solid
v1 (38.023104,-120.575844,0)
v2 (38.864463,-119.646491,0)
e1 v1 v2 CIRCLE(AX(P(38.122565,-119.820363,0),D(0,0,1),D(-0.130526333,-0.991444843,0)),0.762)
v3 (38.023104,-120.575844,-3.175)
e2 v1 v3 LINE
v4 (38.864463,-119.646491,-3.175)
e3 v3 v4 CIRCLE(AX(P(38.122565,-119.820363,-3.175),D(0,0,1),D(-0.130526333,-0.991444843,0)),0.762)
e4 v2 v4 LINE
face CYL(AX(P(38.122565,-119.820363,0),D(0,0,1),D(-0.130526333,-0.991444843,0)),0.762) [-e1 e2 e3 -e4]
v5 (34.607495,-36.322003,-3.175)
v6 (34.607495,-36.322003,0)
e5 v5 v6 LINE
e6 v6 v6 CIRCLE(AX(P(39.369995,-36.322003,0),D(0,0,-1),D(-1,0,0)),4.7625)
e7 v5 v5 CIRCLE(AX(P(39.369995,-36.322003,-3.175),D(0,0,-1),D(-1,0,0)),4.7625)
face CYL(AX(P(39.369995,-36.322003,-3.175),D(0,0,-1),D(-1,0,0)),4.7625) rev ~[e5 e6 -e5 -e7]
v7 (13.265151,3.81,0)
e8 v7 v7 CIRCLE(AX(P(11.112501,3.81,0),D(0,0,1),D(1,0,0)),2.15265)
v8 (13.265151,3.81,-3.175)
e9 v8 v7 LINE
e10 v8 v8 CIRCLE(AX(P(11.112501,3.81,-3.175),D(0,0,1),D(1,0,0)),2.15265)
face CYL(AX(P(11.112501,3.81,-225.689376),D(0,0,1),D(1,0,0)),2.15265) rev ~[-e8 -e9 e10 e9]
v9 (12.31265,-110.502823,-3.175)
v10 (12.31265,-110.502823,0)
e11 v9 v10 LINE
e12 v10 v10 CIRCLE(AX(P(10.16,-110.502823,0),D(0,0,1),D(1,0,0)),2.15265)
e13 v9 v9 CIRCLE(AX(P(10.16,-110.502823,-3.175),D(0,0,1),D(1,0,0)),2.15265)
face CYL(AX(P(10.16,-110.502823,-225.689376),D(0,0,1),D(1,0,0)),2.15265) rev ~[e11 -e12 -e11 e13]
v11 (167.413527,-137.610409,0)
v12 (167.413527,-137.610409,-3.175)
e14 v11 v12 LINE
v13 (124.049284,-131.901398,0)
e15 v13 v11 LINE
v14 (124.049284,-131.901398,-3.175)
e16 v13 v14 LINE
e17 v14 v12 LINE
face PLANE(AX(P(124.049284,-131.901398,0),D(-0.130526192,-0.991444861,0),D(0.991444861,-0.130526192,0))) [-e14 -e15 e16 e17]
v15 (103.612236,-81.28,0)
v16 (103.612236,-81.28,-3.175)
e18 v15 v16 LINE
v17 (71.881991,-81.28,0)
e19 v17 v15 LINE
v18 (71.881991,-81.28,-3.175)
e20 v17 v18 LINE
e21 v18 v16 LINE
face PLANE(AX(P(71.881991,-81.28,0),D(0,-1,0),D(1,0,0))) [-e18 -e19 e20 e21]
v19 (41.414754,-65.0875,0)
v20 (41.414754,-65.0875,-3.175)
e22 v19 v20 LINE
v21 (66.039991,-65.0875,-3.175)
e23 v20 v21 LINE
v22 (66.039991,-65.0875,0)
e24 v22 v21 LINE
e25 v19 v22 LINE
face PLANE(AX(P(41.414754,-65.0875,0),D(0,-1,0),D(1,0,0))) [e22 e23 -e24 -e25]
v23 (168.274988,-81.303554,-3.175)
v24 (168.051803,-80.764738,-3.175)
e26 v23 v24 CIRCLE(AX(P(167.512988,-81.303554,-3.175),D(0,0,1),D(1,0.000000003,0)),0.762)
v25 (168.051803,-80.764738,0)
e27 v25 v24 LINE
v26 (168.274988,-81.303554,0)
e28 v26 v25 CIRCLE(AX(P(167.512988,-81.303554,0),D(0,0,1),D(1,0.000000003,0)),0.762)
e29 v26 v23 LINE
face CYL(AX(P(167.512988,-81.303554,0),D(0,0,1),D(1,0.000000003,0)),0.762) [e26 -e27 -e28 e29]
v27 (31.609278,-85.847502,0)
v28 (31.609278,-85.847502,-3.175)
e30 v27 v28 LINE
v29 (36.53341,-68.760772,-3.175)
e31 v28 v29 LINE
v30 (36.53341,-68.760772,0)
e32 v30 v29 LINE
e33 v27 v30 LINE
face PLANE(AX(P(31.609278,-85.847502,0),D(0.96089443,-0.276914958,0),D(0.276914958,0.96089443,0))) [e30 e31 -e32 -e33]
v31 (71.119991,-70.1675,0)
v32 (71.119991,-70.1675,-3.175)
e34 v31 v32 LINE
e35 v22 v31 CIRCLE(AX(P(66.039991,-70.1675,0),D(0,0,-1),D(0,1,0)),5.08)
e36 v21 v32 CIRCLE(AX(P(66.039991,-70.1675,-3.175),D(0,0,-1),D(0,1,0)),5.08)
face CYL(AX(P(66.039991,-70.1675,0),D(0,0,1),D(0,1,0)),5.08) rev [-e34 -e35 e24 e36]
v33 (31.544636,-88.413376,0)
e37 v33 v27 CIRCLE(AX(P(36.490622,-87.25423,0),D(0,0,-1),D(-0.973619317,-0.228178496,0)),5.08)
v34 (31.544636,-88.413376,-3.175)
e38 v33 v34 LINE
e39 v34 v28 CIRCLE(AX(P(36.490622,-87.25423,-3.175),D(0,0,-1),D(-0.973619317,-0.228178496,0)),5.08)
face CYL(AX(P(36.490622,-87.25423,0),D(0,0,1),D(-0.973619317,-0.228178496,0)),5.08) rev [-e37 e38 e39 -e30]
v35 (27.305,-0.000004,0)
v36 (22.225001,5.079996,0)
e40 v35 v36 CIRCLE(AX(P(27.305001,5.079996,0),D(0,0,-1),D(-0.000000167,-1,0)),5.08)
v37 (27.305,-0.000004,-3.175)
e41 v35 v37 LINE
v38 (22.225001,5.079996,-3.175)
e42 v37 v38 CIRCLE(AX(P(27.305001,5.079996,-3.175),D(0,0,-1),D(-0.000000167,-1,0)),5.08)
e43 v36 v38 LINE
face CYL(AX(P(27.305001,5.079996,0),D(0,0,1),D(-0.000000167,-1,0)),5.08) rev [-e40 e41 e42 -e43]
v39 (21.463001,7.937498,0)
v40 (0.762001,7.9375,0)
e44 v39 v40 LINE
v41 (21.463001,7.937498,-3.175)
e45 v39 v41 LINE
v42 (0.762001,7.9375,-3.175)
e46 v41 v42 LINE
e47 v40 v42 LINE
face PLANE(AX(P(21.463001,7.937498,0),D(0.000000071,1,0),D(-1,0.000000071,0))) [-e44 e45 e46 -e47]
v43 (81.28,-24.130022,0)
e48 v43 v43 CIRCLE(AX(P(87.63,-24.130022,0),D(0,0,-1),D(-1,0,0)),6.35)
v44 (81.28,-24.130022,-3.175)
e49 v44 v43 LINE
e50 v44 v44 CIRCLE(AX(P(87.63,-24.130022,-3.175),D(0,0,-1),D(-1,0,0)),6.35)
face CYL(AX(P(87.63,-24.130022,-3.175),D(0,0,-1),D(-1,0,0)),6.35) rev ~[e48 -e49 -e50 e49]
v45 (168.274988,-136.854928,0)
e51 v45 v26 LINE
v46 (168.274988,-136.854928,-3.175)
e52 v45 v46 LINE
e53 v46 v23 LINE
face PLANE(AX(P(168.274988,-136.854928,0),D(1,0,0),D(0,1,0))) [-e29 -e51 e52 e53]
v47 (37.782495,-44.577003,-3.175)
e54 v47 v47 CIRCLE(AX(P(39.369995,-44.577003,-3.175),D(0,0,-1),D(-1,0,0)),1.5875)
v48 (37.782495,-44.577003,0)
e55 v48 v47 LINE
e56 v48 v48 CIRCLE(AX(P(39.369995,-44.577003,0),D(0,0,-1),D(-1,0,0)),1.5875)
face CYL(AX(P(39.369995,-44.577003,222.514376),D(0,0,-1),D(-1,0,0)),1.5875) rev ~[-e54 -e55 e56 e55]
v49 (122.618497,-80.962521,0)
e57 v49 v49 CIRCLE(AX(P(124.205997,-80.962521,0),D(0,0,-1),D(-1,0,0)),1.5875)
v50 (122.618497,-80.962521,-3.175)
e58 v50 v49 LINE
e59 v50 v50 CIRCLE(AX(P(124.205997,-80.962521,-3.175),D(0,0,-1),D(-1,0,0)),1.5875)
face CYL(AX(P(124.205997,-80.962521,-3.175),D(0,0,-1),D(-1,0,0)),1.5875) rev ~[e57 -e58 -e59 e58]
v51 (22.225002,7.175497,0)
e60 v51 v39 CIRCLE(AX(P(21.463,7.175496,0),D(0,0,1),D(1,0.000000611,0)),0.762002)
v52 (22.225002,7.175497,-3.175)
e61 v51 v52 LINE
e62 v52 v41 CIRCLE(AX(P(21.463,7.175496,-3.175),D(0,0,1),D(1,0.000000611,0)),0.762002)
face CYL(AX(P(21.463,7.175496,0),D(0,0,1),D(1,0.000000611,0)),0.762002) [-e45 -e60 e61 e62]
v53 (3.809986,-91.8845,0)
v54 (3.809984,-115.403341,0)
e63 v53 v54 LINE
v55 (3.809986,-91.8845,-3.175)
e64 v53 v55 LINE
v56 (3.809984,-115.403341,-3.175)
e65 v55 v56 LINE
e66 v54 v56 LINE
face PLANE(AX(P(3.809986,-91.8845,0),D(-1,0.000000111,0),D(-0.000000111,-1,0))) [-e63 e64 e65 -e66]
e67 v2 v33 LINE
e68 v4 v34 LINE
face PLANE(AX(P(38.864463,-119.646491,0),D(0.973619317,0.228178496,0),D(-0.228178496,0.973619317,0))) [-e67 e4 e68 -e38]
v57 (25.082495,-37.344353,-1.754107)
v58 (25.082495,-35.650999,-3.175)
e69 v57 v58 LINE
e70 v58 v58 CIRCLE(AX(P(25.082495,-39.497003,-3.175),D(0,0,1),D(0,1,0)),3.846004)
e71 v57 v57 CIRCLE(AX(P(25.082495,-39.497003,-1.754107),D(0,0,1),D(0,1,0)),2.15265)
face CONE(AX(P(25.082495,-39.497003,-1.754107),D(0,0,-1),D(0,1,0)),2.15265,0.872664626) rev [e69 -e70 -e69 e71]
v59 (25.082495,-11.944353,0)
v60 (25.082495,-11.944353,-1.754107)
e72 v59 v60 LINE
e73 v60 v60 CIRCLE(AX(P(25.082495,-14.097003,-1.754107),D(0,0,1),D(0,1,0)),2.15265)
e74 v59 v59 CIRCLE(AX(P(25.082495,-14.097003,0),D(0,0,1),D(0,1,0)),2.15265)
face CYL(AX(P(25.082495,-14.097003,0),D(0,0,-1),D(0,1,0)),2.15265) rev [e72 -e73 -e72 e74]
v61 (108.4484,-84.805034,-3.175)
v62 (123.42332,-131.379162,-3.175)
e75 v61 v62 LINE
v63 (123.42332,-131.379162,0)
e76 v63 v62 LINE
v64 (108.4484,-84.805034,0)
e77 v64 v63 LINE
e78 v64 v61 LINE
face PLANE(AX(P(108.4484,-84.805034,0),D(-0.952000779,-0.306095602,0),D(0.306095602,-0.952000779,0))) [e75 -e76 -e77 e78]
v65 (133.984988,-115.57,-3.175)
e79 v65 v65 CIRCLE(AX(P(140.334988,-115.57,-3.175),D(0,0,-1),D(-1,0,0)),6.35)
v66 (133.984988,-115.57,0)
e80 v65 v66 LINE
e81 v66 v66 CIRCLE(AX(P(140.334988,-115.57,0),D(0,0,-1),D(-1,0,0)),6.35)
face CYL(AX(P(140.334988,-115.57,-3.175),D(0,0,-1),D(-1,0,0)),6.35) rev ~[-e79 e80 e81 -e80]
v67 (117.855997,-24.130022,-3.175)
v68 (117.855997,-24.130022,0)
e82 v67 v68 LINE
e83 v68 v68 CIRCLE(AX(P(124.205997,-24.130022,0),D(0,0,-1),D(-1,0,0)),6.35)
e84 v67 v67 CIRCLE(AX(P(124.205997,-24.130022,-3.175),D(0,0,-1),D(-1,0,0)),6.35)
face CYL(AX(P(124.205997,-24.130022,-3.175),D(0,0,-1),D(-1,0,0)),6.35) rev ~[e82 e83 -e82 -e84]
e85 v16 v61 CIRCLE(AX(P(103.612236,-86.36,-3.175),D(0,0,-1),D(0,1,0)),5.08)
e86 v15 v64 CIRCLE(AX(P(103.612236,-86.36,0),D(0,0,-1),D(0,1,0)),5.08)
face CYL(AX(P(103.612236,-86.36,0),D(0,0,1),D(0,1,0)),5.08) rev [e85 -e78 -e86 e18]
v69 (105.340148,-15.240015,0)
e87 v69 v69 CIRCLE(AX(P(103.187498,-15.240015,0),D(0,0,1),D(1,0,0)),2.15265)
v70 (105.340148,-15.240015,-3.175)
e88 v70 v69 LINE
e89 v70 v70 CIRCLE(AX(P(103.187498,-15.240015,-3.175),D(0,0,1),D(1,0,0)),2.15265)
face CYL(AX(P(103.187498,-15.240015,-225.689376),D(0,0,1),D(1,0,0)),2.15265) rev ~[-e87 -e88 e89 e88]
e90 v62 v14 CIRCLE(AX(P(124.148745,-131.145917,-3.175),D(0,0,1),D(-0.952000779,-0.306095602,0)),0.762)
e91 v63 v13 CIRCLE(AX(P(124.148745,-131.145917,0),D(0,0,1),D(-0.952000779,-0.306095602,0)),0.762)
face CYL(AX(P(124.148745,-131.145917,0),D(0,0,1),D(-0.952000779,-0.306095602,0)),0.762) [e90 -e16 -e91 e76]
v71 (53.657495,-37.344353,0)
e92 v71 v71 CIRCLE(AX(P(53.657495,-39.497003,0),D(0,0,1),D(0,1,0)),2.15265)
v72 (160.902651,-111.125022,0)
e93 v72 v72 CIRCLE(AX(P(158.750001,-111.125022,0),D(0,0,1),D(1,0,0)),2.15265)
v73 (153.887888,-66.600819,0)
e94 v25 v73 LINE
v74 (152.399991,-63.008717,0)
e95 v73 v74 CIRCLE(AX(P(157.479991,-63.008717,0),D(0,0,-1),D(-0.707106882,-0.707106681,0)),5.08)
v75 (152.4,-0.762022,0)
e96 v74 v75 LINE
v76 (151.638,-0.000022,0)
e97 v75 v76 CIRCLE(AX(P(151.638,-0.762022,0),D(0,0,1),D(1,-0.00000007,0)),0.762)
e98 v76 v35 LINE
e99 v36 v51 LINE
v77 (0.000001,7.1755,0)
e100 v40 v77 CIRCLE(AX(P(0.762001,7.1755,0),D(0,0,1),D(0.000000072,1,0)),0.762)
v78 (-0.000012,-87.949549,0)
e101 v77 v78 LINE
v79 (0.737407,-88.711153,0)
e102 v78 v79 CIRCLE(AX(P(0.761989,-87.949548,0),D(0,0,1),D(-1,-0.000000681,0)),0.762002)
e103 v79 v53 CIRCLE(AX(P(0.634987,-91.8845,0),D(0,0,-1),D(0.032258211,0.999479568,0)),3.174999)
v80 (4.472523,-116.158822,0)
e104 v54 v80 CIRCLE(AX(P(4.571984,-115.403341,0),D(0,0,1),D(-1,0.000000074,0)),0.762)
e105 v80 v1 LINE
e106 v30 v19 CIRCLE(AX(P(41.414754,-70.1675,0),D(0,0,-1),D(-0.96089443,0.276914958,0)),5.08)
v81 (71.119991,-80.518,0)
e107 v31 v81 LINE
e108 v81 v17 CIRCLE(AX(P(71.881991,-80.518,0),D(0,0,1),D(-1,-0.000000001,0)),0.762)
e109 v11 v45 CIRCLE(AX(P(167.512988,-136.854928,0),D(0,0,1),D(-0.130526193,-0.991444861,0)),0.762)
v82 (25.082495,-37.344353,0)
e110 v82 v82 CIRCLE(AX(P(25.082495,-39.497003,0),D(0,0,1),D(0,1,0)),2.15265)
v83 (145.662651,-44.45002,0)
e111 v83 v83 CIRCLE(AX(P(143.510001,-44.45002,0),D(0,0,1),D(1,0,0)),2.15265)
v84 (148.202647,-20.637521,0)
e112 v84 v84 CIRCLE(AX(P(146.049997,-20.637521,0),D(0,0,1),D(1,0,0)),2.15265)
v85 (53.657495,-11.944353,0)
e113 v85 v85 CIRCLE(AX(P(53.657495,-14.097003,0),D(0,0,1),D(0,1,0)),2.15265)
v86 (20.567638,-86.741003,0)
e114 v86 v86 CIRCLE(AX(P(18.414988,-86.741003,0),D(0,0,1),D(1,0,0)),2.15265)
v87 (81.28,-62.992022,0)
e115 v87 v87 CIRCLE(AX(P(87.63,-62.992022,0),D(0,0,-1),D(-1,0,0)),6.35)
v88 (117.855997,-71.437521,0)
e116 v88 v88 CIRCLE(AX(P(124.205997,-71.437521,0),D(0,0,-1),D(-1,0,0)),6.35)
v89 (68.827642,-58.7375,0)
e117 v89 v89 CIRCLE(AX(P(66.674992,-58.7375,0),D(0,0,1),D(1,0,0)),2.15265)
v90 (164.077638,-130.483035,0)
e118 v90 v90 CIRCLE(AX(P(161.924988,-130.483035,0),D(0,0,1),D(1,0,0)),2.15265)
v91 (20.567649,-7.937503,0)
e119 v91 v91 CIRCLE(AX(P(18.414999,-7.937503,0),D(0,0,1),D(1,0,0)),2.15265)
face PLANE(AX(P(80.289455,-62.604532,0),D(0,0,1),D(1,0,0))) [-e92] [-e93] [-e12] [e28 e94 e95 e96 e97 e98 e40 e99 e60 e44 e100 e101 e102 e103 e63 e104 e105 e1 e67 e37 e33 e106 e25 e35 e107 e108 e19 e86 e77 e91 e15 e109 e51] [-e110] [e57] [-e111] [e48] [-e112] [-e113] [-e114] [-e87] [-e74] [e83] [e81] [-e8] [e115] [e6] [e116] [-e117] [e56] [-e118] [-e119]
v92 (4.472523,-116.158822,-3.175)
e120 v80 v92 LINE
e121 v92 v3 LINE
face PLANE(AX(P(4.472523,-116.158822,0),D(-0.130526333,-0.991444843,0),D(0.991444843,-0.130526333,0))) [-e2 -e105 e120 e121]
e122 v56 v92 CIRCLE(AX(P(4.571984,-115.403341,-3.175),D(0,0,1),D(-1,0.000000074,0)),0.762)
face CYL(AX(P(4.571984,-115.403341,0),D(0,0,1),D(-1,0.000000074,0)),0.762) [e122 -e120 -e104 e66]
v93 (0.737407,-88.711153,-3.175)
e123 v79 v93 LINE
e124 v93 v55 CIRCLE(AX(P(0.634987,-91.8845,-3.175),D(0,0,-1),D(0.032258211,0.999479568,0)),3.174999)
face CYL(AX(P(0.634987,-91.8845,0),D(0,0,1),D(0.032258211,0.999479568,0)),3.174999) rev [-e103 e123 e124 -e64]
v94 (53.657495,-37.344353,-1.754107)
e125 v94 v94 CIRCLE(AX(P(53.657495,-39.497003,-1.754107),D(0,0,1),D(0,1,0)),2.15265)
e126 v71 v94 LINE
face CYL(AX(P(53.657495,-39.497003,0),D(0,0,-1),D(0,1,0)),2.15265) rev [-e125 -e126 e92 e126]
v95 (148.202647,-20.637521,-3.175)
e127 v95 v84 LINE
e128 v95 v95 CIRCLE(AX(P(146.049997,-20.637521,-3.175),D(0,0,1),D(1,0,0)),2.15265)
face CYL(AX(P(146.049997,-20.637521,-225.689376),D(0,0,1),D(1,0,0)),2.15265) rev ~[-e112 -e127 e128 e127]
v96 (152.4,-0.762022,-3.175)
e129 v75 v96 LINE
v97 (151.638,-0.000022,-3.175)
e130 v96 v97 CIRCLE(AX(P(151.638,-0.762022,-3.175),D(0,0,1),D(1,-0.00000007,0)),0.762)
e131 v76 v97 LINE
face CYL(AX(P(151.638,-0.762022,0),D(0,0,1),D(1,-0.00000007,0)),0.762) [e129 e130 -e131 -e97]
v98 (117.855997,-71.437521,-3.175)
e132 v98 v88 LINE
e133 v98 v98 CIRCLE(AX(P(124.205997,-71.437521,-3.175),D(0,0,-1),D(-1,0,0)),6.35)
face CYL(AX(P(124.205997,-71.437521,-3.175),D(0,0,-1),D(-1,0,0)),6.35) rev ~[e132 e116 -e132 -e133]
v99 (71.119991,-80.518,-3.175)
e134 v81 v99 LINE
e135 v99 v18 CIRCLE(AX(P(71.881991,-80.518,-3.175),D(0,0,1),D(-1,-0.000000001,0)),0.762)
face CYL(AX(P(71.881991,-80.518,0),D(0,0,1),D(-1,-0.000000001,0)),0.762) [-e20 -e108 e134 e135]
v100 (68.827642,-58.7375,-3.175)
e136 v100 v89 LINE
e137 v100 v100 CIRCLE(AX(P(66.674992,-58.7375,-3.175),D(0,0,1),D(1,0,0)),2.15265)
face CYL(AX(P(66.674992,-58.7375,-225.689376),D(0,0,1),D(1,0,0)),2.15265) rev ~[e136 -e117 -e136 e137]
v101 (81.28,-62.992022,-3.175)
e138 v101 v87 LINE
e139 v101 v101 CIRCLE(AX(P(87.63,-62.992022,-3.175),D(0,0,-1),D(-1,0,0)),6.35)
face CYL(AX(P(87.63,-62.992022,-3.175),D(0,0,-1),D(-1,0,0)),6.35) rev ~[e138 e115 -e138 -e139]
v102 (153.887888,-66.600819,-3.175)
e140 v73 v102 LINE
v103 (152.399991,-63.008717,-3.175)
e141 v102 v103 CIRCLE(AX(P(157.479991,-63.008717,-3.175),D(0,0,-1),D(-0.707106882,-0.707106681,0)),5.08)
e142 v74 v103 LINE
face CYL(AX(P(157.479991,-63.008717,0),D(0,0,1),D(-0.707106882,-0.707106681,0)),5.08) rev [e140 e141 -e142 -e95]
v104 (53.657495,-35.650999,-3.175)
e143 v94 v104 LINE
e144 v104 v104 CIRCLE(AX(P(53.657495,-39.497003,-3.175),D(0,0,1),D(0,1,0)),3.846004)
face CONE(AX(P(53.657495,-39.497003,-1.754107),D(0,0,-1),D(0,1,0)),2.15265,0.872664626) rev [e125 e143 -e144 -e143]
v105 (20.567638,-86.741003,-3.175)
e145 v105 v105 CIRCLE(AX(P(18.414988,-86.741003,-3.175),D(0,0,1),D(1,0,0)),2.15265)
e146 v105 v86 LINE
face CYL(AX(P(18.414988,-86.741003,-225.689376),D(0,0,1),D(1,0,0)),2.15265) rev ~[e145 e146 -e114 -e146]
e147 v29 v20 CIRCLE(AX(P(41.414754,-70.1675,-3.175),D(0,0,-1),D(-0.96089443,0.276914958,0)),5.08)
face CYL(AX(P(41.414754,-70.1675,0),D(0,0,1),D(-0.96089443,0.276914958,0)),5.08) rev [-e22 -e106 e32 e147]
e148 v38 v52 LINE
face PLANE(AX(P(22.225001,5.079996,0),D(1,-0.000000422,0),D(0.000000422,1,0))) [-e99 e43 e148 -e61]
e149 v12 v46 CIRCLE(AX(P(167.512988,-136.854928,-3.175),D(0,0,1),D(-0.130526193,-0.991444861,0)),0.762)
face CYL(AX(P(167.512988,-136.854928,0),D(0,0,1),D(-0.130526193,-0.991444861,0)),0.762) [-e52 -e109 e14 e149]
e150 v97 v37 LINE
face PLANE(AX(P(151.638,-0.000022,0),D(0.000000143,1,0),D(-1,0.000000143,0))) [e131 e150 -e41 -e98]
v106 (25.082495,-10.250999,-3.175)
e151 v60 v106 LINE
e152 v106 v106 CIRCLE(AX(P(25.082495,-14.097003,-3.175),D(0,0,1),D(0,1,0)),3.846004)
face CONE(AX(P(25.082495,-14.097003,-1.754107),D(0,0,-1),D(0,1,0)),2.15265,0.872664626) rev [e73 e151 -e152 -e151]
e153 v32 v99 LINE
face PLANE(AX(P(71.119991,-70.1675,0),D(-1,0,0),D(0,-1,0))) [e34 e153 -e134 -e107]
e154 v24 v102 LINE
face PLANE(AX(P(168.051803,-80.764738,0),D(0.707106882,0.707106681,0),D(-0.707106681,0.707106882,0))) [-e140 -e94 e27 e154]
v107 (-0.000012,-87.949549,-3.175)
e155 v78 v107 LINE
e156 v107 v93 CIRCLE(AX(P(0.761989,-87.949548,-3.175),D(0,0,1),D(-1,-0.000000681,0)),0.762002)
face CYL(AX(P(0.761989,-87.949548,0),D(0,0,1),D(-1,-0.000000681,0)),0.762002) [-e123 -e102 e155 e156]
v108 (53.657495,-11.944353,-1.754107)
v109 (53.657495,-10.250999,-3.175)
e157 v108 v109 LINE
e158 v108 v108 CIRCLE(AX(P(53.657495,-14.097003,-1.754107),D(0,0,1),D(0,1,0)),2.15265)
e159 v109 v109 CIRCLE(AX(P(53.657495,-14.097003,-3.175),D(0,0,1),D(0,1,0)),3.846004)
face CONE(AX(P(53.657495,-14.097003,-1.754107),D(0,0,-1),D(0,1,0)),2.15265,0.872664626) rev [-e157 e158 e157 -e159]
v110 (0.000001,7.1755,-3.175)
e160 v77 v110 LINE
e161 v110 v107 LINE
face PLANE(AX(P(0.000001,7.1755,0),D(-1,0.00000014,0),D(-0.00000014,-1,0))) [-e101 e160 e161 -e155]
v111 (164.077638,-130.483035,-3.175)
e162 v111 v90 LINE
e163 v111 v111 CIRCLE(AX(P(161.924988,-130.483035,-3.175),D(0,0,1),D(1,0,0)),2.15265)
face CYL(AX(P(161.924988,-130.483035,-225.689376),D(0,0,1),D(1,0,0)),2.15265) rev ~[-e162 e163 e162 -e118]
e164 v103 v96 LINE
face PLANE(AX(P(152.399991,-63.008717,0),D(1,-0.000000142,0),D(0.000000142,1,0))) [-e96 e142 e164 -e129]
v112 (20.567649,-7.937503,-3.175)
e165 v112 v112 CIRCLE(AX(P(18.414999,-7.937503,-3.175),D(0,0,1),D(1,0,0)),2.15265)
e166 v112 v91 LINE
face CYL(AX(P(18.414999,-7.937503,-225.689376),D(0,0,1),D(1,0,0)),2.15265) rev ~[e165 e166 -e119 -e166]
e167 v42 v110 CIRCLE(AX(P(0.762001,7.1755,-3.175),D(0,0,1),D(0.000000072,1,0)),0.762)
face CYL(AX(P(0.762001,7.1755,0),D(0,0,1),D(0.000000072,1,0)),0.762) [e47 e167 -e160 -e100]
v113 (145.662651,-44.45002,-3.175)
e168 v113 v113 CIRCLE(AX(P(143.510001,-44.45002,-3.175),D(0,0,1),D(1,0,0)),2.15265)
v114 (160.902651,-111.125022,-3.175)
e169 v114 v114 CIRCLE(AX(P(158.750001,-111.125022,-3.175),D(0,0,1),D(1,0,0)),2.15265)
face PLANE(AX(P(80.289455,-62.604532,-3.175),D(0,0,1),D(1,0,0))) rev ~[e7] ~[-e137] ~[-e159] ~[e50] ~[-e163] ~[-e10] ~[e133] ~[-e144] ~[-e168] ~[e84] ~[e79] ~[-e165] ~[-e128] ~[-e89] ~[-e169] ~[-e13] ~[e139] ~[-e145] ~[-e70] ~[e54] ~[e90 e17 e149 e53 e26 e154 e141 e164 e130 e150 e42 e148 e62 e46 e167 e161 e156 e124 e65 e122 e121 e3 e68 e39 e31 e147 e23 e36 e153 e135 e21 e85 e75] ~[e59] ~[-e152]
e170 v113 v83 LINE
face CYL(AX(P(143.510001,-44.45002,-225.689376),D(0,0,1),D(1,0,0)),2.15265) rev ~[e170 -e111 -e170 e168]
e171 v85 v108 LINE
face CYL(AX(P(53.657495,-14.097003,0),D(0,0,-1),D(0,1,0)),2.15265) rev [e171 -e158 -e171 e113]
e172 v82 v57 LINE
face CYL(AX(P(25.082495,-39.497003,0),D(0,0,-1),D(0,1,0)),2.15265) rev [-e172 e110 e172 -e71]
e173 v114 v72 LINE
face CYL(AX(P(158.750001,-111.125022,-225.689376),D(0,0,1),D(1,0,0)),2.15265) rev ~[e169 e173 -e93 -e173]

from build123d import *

# Parameters (mm, degrees)
BOSS_EXTRUDE1_DEPTH                       = 3.175
F_6_CLEARANCE_HOLE1_D                     = 4.3053
SKETCH4_R                                 = 6.35
SKETCH4_R_2                               = 1.5875
SKETCH4_R_3                               = 4.7625
CUT_EXTRUDE1_DEPTH                        = 4.175
CSK_FOR_6_FLAT_HEAD_MACHINE_SCREW_2_COUNT = 2
CSK_FOR_6_FLAT_HEAD_MACHINE_SCREW_2_PITCH = 28.575
CSK_FOR_6_FLAT_HEAD_MACHINE_SCREW_3_COUNT = 2
CSK_FOR_6_FLAT_HEAD_MACHINE_SCREW_3_PITCH = 38.232062788
CSK_FOR_6_FLAT_HEAD_MACHINE_SCREW_4_COUNT = 2
CSK_FOR_6_FLAT_HEAD_MACHINE_SCREW_4_PITCH = 25.4
F_0_CLEARANCE_HOLE1_D                     = 1.8542
F_1_8_0_125_DIAMETER_HOLE1_D              = 3.175


with BuildPart() as part:
    # Sketch1 → Boss-Extrude1 (new body)
    with BuildSketch(Plane.XY):
        with BuildLine():
            Line((3.809986215, -91.884500325), (3.80998361, -115.403340545))
            ThreePointArc((3.80998361, -115.403340545), (3.999081622, -115.90576205), (4.472522544, -116.158821571))
            Line((4.472522544, -116.158821571), (38.023104274, -120.5758443))
            ThreePointArc((38.023104274, -120.5758443), (38.687459595, -120.33177166), (38.864463259, -119.646491316))
            Line((38.864463259, -119.646491316), (31.544635998, -88.413376307))
            ThreePointArc((31.544635998, -88.413376307), (31.412233483, -87.126289027), (31.609278422, -85.84750156))
            Line((31.609278422, -85.84750156), (36.533410401, -68.760772014))
            ThreePointArc((36.533410401, -68.760772014), (38.360231081, -66.108400459), (41.414754107, -65.0875))
            Line((41.414754107, -65.0875), (66.039990754, -65.0875))
            ThreePointArc((66.039990754, -65.0875), (69.632093202, -66.575397552), (71.119990754, -70.1675))
            Line((71.119990754, -70.1675), (71.119990754, -80.518))
            ThreePointArc((71.119990754, -80.518), (71.343175387, -81.056815367), (71.881990754, -81.28))
            Line((71.881990754, -81.28), (103.612235862, -81.28))
            ThreePointArc((103.612235862, -81.28), (106.604490402, -82.25478225), (108.448399818, -84.805034342))
            Line((108.448399818, -84.805034342), (123.423319929, -131.379161885))
            ThreePointArc((123.423319929, -131.379161885), (123.660593225, -131.731025839), (124.049283564, -131.901398021))
            Line((124.049283564, -131.901398021), (167.413526593, -137.610408921))
            ThreePointArc((167.413526593, -137.610408921), (168.015409063, -137.42782987), (168.274987552, -136.854927937))
            Line((168.274987552, -136.854927937), (168.274987552, -81.303553632))
            ThreePointArc((168.274987552, -81.303553632), (168.216983776, -81.011948907), (168.051802995, -80.764738341))
            Line((168.051802995, -80.764738341), (153.88788809, -66.600819412))
            ThreePointArc((153.88788809, -66.600819412), (152.786682817, -64.952748811), (152.399991049, -63.008717113))
            Line((152.399991049, -63.008717113), (152.399999892, -0.762021595))
            ThreePointArc((152.399999892, -0.762021595), (152.176815316, -0.223206231), (151.638, -2.1541e-05))
            Line((151.638, -2.1541e-05), (27.305, -3.804e-06))
            ThreePointArc((27.305, -3.804e-06), (23.712898123, 1.487894033), (22.22500087, 5.079996121))
            Line((22.22500087, 5.079996121), (22.225001755, 7.175496897))
            ThreePointArc((22.225001755, 7.175496897), (22.001816945, 7.7143128), (21.463001073, 7.937498421))
            Line((21.463001073, 7.937498421), (0.762001075, 7.937499892))
            ThreePointArc((0.762001075, 7.937499892), (0.223185691, 7.714315297), (1.021e-06, 7.175499945))
            Line((1.021e-06, 7.175499945), (-1.2342e-05, -87.949548922))
            ThreePointArc((-1.2342e-05, -87.949548922), (0.214550622, -88.479602508), (0.737406874, -88.711153328))
            ThreePointArc((0.737406874, -88.711153328), (2.915974038, -89.675944454), (3.809986215, -91.884500325))
        make_face()
    extrude(amount=-BOSS_EXTRUDE1_DEPTH)

    # #6 Clearance Hole1 (through all)
    with Locations(Plane(origin=(0, 0, -3.175), x_dir=(-1, 0, 0), z_dir=(0, 0, -1))):
        with Locations((-11.112500541, 3.81), (-18.414998872, -7.937503157), (-103.187497835, -15.240014658), (-143.510001128, -44.450020387), (-158.750001128, -111.125021649), (-18.414987678, -86.741003157), (-66.674991751, -58.7375), (-10.16, -110.502822935), (-146.049997068, -20.637520747), (-161.924987552, -130.483035149)):
            Hole(F_6_CLEARANCE_HOLE1_D / 2)

    # Sketch4 → Cut-Extrude1 (cut, through all)
    with BuildSketch(Plane(origin=(0, 0, -3.175), x_dir=(-1, 0, 0), z_dir=(0, 0, -1))):
        with Locations((-140.334987552, -115.57)):
            Circle(SKETCH4_R)
        with Locations((-124.205996572, -71.437521424)):
            Circle(SKETCH4_R)
        with Locations((-87.63, -62.992021649)):
            Circle(SKETCH4_R)
        with Locations((-87.63, -24.130021649)):
            Circle(SKETCH4_R)
        with Locations((-124.205996572, -24.130021649)):
            Circle(SKETCH4_R)
        with Locations((-124.205996572, -80.962521424)):
            Circle(SKETCH4_R_2)
        with Locations((-39.36999484, -36.322003157)):
            Circle(SKETCH4_R_3)
    extrude(amount=-CUT_EXTRUDE1_DEPTH, mode=Mode.SUBTRACT)

    # Sketch5 → CSK for #6 Flat Head Machine Screw (100)1 (revolve, cut)
    with BuildSketch(Plane(origin=(53.65749484, -14.097003157, -3.175), x_dir=(0, 1, 0), z_dir=(1, 0, 0))):
        Polygon((0, 0), (0, 3.175), (2.15265, 3.175), (2.15265, 1.420893136), (3.8460045, 0), align=None)
    csk_for_6_flat_head_machine_screw_100 = revolve(axis=Axis((53.65749484, -14.097003157, -9.525), (0, 0, 1)), mode=Mode.SUBTRACT)

    # CSK for _6 Flat Head Machine Screw _ 2: CSK for #6 Flat Head Machine Screw (100)1 ×2
    with Locations(*[(-i * CSK_FOR_6_FLAT_HEAD_MACHINE_SCREW_2_PITCH, 0, 0) for i in range(1, CSK_FOR_6_FLAT_HEAD_MACHINE_SCREW_2_COUNT)]):
        add(csk_for_6_flat_head_machine_screw_100, mode=Mode.SUBTRACT)

    # CSK for _6 Flat Head Machine Screw _ 3: CSK for #6 Flat Head Machine Screw (100)1 ×2
    with Locations(*[Vector(-0.747409319, -0.664363839, 0) * (i * CSK_FOR_6_FLAT_HEAD_MACHINE_SCREW_3_PITCH) for i in range(1, CSK_FOR_6_FLAT_HEAD_MACHINE_SCREW_3_COUNT)]):
        add(csk_for_6_flat_head_machine_screw_100, mode=Mode.SUBTRACT)

    # CSK for _6 Flat Head Machine Screw _ 4: CSK for #6 Flat Head Machine Screw (100)1 ×2
    with Locations(*[(0, -i * CSK_FOR_6_FLAT_HEAD_MACHINE_SCREW_4_PITCH, 0) for i in range(1, CSK_FOR_6_FLAT_HEAD_MACHINE_SCREW_4_COUNT)]):
        add(csk_for_6_flat_head_machine_screw_100, mode=Mode.SUBTRACT)

    # #0 Clearance Hole1 (through all)
    with Locations(Plane(origin=(0, 0, -9.525), x_dir=(-1, 0, 0), z_dir=(0, 0, -1))):
        with Locations((-39.36999484, -44.577003157)):
            Hole(F_0_CLEARANCE_HOLE1_D / 2)

    # 1/8 (0.125) Diameter Hole1 (through all)
    with Locations(Plane.XY):
        with Locations((39.36999484, -44.577003157)):
            Hole(F_1_8_0_125_DIAMETER_HOLE1_D / 2)


solid = part.part
